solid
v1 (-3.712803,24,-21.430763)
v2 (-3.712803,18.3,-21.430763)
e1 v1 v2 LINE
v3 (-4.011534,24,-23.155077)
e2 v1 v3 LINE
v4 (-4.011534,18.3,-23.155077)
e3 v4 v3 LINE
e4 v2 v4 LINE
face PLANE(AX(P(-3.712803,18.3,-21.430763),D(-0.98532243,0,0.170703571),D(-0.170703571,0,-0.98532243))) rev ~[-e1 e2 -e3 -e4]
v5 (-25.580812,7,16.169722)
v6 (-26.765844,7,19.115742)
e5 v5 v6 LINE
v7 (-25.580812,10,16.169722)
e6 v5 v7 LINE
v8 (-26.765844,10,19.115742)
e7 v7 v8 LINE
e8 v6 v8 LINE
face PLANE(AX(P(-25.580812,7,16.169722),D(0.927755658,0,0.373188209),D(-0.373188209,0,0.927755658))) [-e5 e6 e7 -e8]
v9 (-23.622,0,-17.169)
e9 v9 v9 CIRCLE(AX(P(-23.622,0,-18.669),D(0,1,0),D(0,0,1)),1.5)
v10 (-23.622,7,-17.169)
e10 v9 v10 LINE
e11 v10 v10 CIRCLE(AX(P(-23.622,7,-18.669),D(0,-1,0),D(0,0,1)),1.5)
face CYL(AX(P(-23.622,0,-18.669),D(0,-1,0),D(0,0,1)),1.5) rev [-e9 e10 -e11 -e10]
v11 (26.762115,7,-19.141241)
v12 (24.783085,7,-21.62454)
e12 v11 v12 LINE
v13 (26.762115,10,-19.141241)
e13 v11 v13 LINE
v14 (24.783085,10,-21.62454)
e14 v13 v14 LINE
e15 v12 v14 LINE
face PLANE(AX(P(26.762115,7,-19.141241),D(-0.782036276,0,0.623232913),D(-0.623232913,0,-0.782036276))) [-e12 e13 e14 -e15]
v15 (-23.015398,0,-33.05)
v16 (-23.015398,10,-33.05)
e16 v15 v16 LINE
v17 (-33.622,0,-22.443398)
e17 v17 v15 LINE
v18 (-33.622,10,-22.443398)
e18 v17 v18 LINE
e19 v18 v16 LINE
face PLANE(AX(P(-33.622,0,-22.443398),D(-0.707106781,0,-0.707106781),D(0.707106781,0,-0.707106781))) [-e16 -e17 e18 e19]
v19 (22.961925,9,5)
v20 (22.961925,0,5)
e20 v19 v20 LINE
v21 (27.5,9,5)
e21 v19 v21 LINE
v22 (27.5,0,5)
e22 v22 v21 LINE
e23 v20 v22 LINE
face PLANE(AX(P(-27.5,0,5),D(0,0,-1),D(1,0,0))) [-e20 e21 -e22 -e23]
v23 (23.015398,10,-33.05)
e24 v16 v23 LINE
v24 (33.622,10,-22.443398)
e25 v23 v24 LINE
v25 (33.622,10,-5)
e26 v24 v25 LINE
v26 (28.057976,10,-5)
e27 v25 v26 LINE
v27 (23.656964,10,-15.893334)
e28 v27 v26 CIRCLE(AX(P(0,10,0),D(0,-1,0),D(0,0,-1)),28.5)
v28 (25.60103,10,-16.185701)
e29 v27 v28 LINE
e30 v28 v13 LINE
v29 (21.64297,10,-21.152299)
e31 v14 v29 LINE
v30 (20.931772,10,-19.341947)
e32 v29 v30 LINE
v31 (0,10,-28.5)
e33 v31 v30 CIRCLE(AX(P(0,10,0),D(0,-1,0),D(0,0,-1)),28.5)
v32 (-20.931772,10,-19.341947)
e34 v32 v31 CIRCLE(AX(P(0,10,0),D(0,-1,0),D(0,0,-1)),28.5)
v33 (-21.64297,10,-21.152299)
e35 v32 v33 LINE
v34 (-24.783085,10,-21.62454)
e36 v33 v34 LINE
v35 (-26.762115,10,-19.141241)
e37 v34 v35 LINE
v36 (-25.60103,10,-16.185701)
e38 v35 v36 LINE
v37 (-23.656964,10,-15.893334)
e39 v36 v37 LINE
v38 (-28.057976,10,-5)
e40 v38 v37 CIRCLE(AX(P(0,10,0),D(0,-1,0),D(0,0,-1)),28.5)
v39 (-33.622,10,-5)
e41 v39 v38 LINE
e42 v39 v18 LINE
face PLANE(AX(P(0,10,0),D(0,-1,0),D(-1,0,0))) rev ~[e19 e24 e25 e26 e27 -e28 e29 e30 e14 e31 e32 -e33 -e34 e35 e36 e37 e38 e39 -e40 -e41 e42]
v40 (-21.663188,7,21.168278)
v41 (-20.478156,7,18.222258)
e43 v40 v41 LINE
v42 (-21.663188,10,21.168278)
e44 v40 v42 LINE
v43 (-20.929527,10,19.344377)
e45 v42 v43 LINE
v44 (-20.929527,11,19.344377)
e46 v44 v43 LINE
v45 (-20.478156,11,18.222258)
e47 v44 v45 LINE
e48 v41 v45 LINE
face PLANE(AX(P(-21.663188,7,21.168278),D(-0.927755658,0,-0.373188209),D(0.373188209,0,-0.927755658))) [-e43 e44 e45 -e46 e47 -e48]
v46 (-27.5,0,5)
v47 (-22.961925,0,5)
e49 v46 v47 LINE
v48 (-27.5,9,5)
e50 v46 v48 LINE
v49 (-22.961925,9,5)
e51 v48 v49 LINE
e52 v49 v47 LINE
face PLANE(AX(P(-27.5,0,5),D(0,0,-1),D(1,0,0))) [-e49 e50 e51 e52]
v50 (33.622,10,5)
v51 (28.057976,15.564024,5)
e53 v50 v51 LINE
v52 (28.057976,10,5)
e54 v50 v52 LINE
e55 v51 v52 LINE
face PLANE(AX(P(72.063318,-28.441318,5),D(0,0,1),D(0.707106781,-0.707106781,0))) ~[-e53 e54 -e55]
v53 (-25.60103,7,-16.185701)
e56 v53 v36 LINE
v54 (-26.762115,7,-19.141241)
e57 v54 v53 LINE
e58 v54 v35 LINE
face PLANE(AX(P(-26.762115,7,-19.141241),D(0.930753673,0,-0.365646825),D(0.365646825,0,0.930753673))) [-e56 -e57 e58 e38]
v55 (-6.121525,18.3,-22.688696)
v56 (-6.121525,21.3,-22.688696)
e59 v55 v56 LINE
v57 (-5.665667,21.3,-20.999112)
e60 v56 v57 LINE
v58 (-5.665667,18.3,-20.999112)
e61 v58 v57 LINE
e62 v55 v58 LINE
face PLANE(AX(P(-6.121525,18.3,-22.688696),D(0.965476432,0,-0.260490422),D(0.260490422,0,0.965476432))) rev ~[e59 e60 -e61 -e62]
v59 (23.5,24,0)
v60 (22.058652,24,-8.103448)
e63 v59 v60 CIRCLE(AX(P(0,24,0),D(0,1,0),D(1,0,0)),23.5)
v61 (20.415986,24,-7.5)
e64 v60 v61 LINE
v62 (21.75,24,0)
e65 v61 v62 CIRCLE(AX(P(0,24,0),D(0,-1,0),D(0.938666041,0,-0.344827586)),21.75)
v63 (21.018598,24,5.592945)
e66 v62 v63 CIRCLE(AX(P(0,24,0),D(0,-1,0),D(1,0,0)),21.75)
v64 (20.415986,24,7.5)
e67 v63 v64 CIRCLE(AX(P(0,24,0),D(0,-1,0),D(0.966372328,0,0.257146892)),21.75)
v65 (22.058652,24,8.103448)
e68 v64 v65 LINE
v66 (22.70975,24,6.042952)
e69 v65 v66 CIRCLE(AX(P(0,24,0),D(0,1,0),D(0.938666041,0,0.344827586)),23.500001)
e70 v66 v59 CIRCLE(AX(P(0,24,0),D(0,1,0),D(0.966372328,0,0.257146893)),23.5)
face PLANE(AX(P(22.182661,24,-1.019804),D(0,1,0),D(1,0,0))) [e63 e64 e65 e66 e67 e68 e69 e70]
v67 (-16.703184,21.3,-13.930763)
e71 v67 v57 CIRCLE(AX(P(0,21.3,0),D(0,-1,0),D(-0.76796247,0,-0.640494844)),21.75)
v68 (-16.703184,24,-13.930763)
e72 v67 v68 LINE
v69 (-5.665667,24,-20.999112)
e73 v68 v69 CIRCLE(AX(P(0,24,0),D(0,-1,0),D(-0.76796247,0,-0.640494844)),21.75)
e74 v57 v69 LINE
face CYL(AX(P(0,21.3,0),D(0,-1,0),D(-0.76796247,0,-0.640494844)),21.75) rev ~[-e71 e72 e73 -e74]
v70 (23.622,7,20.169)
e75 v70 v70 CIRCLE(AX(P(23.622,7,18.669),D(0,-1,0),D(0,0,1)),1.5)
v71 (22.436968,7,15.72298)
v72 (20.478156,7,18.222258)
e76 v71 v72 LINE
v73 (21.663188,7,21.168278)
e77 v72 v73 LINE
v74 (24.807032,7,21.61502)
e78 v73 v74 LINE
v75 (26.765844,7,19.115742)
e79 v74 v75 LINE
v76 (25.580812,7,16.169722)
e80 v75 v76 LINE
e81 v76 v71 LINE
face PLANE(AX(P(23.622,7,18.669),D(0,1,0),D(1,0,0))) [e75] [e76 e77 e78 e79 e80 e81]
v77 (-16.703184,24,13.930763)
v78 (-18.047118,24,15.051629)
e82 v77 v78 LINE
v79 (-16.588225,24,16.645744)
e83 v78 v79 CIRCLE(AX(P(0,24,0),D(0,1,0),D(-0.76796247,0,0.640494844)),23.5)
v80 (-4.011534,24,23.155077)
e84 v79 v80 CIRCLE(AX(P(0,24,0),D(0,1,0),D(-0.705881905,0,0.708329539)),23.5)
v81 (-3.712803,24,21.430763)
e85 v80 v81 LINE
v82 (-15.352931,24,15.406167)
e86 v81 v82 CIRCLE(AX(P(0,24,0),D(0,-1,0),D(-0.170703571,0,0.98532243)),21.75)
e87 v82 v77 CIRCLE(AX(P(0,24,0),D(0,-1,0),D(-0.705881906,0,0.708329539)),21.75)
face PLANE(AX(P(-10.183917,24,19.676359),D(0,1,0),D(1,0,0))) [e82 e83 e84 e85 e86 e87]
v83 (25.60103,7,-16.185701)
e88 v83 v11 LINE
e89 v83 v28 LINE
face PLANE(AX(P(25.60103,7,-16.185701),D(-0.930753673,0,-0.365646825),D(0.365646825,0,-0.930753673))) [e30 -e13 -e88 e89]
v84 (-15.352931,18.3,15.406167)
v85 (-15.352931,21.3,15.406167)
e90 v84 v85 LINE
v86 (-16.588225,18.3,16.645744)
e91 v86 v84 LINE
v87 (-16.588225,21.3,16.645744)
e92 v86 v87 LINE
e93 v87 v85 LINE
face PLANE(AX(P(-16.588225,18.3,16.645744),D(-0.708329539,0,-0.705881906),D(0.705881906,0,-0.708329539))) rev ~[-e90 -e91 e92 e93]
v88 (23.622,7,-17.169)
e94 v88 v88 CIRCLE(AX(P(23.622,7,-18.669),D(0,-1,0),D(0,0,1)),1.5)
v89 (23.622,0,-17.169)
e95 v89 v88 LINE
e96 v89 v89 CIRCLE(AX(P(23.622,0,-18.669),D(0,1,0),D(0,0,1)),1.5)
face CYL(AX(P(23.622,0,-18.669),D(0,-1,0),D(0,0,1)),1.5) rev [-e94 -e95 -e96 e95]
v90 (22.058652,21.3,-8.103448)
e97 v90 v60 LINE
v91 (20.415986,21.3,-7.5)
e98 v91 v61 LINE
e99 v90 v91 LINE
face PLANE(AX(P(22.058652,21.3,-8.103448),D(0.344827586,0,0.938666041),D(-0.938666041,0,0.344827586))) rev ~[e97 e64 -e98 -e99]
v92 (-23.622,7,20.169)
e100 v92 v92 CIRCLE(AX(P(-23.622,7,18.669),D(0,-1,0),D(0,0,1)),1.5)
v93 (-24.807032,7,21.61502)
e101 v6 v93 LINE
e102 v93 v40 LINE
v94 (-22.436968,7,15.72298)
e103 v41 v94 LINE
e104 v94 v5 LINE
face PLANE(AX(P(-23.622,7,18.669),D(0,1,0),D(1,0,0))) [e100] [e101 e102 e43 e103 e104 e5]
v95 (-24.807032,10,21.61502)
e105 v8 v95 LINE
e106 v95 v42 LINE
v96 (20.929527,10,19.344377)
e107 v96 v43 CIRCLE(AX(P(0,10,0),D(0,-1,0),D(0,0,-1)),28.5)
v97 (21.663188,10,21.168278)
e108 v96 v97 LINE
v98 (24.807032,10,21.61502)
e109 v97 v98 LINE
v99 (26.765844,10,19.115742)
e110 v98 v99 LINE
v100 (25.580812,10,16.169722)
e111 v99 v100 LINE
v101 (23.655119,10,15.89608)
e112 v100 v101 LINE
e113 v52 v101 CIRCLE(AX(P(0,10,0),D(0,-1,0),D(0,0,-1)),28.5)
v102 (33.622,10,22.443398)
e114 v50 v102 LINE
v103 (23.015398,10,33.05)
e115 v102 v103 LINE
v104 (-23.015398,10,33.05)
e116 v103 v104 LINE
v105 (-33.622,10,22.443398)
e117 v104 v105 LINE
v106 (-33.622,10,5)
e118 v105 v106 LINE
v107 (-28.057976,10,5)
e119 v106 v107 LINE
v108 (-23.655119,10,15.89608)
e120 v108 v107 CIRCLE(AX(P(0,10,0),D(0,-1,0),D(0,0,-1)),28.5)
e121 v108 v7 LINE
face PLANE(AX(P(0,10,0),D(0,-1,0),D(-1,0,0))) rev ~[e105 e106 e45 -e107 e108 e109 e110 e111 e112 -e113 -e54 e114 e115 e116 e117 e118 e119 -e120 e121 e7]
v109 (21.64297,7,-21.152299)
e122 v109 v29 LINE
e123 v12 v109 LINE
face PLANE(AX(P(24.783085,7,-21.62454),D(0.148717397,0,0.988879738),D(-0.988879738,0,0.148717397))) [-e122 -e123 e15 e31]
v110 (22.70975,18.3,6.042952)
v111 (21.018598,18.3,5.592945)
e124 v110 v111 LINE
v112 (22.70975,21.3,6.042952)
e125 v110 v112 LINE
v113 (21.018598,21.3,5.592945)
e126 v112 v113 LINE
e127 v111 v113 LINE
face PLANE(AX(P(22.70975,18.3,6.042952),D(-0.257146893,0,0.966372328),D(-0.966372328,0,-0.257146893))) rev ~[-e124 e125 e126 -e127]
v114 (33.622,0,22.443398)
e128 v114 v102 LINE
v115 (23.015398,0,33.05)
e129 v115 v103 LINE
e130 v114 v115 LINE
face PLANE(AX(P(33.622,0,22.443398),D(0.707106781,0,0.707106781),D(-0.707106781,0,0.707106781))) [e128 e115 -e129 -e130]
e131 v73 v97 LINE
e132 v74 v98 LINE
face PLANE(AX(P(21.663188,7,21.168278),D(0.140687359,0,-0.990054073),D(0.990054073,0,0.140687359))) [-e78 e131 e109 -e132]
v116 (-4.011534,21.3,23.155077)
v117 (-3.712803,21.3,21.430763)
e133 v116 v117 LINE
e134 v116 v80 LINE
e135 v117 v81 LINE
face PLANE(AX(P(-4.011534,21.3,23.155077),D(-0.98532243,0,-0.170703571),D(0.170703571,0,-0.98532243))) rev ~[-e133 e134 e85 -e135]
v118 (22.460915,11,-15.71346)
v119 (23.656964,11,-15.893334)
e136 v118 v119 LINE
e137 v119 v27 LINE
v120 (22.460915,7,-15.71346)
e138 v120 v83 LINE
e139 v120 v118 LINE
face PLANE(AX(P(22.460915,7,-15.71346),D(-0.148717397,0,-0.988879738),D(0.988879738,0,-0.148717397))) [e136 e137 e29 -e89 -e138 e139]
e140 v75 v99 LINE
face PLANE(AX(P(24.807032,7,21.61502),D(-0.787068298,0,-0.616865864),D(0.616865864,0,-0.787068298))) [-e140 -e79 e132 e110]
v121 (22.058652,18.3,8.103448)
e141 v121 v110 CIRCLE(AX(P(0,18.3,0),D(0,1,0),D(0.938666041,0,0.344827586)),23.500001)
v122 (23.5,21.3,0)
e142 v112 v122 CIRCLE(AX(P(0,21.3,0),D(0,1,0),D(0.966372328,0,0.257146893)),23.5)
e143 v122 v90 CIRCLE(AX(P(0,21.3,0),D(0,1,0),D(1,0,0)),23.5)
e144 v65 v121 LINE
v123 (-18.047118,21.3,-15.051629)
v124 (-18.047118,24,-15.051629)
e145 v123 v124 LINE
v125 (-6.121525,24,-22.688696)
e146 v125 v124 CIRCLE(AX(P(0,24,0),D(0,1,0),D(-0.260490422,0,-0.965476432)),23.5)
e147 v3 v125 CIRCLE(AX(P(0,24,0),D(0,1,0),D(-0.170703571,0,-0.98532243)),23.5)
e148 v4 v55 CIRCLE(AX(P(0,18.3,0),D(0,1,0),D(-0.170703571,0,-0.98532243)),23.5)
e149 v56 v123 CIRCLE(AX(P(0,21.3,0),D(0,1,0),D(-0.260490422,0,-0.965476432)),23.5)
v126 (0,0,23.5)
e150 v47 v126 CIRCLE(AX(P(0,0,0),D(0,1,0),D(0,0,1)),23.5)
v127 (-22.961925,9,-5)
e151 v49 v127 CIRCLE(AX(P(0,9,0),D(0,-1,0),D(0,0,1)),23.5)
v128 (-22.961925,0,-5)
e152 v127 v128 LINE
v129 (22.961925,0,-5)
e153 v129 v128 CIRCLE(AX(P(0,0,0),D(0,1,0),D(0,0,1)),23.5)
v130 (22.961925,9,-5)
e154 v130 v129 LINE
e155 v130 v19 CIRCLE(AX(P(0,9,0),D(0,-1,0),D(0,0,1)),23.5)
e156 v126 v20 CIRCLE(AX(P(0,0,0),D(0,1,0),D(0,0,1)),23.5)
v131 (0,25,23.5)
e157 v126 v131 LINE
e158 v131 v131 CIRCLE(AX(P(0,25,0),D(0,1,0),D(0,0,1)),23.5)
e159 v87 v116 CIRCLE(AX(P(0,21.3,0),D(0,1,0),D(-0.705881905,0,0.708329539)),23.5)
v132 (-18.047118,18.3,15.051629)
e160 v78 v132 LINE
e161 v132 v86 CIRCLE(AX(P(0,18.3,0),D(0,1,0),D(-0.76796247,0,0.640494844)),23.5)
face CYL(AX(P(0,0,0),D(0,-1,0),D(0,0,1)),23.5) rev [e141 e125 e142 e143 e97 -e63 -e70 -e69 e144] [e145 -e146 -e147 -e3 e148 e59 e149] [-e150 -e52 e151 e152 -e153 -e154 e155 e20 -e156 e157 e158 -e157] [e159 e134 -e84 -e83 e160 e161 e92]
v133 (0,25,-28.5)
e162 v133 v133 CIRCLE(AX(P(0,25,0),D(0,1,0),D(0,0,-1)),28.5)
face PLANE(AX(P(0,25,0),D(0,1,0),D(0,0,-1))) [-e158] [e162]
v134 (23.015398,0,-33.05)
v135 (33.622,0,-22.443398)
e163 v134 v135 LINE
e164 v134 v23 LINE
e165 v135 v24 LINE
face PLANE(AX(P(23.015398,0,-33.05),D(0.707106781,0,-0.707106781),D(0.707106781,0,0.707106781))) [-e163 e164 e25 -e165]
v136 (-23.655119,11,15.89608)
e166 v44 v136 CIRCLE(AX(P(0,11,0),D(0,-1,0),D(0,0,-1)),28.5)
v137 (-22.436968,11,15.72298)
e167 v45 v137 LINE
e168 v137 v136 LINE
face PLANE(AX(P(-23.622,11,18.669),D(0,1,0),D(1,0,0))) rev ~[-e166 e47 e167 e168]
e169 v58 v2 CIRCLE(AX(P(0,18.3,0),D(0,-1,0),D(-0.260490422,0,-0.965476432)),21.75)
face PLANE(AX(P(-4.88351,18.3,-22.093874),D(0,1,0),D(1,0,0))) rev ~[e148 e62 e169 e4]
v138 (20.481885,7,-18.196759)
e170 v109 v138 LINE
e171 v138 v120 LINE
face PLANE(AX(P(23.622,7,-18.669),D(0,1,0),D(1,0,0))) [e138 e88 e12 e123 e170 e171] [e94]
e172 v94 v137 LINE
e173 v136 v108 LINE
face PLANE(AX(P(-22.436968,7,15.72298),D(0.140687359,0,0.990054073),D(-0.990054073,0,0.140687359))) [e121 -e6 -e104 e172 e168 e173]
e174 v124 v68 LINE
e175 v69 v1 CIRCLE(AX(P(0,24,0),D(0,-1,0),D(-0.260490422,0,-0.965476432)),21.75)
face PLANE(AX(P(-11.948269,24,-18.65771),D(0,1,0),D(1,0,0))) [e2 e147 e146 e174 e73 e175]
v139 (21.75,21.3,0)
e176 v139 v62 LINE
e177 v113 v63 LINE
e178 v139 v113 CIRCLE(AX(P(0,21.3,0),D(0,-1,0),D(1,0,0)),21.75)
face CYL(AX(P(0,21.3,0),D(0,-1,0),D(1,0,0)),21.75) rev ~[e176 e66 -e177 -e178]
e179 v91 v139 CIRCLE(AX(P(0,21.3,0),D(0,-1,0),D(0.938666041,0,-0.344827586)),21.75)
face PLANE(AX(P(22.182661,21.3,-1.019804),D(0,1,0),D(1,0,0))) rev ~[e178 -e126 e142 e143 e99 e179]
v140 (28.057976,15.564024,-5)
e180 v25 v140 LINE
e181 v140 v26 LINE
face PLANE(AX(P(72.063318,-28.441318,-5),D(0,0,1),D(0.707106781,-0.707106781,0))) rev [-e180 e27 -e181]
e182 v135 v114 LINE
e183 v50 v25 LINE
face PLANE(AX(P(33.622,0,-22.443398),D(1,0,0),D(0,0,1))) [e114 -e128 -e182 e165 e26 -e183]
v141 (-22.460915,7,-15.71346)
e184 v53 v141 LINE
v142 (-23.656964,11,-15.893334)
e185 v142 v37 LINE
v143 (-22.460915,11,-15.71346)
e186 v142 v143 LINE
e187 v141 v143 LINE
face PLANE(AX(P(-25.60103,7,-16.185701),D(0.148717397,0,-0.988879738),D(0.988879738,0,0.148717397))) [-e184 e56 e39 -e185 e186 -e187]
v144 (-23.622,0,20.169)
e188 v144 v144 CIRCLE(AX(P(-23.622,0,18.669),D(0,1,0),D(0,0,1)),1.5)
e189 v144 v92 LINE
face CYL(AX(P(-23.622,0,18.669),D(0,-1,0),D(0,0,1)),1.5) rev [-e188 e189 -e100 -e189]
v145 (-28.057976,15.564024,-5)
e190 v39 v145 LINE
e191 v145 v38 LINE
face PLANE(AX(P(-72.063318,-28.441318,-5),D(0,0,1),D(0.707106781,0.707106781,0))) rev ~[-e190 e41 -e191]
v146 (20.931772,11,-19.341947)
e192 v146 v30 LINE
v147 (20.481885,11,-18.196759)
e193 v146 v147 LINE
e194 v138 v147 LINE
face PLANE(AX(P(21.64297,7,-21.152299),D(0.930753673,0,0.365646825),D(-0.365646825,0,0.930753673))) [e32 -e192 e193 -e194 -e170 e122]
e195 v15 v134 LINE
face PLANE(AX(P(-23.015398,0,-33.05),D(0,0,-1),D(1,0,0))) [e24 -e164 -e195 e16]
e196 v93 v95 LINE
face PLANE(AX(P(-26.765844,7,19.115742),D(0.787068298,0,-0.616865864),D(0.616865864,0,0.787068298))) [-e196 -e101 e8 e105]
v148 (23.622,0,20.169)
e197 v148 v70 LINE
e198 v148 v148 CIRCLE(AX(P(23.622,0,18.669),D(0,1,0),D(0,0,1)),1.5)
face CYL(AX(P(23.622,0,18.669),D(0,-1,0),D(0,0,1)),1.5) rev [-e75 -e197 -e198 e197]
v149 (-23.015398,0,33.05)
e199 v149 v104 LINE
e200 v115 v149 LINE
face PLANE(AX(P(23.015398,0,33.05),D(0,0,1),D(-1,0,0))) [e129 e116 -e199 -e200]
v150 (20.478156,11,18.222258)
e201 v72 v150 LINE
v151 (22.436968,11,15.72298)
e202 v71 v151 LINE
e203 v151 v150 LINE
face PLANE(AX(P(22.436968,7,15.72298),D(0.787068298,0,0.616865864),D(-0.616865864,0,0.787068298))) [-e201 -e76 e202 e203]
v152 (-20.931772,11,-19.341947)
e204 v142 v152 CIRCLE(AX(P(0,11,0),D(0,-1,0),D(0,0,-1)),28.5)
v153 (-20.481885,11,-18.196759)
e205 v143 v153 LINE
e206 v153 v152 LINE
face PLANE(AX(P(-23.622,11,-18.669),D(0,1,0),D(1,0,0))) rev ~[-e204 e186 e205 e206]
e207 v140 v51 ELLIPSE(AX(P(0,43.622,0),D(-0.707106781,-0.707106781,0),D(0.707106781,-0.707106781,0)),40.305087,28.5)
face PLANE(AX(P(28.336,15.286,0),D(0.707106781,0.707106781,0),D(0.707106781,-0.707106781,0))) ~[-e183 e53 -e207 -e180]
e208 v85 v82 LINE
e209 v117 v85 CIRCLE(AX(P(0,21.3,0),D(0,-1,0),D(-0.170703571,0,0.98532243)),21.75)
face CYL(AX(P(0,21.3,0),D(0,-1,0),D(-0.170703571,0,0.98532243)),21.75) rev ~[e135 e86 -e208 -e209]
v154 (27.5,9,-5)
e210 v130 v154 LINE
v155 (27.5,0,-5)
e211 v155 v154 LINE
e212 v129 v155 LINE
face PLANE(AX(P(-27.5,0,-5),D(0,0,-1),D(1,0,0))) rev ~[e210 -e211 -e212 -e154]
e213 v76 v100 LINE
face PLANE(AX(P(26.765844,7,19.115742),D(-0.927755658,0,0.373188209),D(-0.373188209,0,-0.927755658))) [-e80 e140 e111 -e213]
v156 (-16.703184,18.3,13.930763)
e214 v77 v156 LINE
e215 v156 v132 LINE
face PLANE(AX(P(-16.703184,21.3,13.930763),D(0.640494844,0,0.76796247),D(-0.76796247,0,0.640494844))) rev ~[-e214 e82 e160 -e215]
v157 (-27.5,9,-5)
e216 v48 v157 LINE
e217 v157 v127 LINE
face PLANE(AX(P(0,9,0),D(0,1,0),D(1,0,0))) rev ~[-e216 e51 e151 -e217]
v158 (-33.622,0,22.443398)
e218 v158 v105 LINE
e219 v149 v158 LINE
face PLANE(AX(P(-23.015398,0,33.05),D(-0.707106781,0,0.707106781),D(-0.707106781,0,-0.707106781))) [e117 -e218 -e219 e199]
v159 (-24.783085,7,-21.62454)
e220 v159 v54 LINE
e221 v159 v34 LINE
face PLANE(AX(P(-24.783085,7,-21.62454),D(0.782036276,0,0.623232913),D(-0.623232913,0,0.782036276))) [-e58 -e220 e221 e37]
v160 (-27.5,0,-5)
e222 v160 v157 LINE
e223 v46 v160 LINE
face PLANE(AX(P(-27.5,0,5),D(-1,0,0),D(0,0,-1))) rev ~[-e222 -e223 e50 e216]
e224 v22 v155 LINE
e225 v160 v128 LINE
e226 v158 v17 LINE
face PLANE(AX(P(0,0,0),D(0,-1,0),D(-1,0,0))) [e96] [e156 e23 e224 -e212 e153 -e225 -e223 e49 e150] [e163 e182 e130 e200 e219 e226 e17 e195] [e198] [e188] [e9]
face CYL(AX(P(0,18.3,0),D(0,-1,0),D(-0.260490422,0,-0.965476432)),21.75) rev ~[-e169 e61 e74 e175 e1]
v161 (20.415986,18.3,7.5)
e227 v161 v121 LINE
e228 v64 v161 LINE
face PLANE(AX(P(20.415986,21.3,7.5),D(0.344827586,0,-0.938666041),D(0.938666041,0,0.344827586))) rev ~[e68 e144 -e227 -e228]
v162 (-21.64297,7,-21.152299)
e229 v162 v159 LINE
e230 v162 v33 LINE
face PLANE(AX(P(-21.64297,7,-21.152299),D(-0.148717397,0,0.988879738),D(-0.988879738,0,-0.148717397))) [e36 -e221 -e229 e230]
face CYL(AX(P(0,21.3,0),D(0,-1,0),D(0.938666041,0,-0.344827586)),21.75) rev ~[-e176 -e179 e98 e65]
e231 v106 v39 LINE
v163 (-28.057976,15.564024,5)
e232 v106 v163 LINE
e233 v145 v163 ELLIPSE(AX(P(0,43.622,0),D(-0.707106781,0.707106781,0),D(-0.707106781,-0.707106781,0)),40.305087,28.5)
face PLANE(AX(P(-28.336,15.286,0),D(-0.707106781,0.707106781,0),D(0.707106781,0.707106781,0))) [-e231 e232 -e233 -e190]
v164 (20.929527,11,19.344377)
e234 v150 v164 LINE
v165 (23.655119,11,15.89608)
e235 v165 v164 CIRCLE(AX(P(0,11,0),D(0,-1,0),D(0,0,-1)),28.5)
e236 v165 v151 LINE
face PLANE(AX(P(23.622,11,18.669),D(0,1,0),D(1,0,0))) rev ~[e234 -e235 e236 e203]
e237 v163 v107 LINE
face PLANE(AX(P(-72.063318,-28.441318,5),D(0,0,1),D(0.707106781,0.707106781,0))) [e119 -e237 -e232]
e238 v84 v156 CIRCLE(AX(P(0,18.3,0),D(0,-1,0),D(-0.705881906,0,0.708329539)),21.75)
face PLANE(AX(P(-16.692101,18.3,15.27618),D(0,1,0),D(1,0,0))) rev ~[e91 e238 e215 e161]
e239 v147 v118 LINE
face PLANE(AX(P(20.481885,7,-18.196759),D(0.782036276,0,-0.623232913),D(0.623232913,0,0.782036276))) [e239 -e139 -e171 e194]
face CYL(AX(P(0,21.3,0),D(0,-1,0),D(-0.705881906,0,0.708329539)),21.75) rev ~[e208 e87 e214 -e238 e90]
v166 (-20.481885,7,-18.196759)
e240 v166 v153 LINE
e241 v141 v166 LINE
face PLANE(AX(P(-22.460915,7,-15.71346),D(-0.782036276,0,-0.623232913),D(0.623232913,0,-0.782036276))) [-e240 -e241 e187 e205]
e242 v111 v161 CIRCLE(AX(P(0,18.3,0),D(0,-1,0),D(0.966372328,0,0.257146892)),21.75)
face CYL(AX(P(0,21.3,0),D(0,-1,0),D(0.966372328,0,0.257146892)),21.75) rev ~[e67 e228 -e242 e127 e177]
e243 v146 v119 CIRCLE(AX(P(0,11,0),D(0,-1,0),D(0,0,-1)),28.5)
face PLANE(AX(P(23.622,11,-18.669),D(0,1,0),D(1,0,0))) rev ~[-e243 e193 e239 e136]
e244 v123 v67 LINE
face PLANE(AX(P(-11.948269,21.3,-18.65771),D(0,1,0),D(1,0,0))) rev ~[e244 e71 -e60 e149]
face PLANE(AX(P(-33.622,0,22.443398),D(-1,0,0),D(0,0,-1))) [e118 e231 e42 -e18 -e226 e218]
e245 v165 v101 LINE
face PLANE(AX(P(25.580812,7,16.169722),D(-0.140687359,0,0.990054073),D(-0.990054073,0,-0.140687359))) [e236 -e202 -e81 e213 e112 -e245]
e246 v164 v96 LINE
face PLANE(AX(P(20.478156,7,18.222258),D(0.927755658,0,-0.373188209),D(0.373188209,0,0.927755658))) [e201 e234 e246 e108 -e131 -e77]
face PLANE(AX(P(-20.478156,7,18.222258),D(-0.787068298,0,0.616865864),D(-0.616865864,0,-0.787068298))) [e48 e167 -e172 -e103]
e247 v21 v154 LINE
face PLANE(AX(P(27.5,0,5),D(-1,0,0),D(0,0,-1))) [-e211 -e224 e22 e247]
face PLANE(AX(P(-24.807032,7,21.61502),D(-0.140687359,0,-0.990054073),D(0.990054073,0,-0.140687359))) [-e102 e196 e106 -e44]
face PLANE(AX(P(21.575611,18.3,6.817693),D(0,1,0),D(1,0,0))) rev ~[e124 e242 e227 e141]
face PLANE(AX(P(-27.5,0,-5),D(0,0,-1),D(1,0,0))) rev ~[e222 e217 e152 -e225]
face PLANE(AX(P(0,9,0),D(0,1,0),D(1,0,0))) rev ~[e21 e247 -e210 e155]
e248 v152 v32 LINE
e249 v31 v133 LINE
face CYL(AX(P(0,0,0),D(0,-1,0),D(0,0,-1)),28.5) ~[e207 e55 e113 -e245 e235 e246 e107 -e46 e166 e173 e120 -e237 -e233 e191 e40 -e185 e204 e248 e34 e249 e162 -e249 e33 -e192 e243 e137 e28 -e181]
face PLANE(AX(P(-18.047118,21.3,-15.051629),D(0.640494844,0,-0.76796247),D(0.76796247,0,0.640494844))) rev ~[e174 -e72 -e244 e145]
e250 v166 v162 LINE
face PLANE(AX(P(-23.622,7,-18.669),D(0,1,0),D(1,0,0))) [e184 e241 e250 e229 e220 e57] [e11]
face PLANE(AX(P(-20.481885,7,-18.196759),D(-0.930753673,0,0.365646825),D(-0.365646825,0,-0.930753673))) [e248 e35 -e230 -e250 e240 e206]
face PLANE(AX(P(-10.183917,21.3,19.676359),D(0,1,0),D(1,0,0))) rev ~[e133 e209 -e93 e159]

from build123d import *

# Parameters (mm, degrees)
SKETCH_1_R               = 23.5
SKETCH_1_R_2             = 1.5
EXTRUDE_1_DEPTH          = 10
SKETCH_2_R               = 28.5
SKETCH_2_R_2             = 23.5
EXTRUDE_2_DEPTH          = 25
SKETCH_5_W               = 55
SKETCH_5_H               = 10
CUT_EXTRUDE_1_DEPTH      = 9
RIB_6_REACH              = 55.364
SKETCH_7_WALL_W          = 123.679532162
SKETCH_7_WALL_H          = 10
CUT_EXTRUDE_2_DEPTH      = 1
CUT_EXTRUDE_2_DEPTH_BACK = 3
CUT_EXTRUDE_2_START      = 10
EXTRUDE_START            = -3.7
EXTRUDE_3_DEPTH          = 2.7
EXTRUDE_START_2          = -6.7
EXTRUDE_5_DEPTH          = 3


with BuildPart() as part:
    # 草图1 → 凸台-拉伸1 (new body)
    with BuildSketch(Plane(origin=(0, 0, 0), x_dir=(1, 0, 0), z_dir=(0, 1, 0))):
        Polygon((-23.015398282, 33.05), (23.015398282, 33.05), (33.622, 22.443398282), (33.622, -22.443398282), (23.015398282, -33.05), (-23.015398282, -33.05), (-33.622, -22.443398282), (-33.622, 22.443398282), align=None)
        with Locations(Location((0, 0, 0), (0, 0, 270))):
            Circle(SKETCH_1_R, mode=Mode.SUBTRACT)
        with Locations(Location((-23.622, 18.669, 0), (0, 0, 270))):
            Circle(SKETCH_1_R_2, mode=Mode.SUBTRACT)
        with Locations(Location((23.622, 18.669, 0), (0, 0, 270))):
            Circle(SKETCH_1_R_2, mode=Mode.SUBTRACT)
        with Locations(Location((23.622, -18.669, 0), (0, 0, 270))):
            Circle(SKETCH_1_R_2, mode=Mode.SUBTRACT)
        with Locations(Location((-23.622, -18.669, 0), (0, 0, 270))):
            Circle(SKETCH_1_R_2, mode=Mode.SUBTRACT)
    extrude(amount=EXTRUDE_1_DEPTH)

    # 草图2 → 凸台-拉伸2 (add)
    with BuildSketch(Plane(origin=(0, 0, 0), x_dir=(1, 0, 0), z_dir=(0, 1, 0))):
        with Locations(Location((0, 0, 0), (0, 0, 90))):
            Circle(SKETCH_2_R)
        with Locations(Location((0, 0, 0), (0, 0, 270))):
            Circle(SKETCH_2_R_2, mode=Mode.SUBTRACT)
    extrude(amount=EXTRUDE_2_DEPTH)

    # 草图5 → 切除-拉伸1 (cut)
    with BuildSketch(Plane(origin=(0, 0, 0), x_dir=(1, 0, 0), z_dir=(0, 1, 0))):
        Rectangle(SKETCH_5_W, SKETCH_5_H)
    extrude(amount=CUT_EXTRUDE_1_DEPTH, mode=Mode.SUBTRACT)

    # 草图7 wall → 筋6 (add, up to next)
    with BuildSketch(Plane(origin=(-28.336, 15.286, 0), x_dir=(0.707106781187, 0.707106781187, 0), z_dir=(-0.707106781187, 0.707106781187, 0)), mode=Mode.PRIVATE) as rib_6_sk1:
        Rectangle(SKETCH_7_WALL_W, SKETCH_7_WALL_H)
    rib_6_tool1 = extrude(rib_6_sk1.sketch, amount=-RIB_6_REACH, mode=Mode.PRIVATE) - part.part
    rib_6 = rib_6_tool1.solids().sort_by_distance((-28.336, 15.286, 0))[0]
    add(rib_6)

    # 镜向1: 筋6 across plane
    add(rib_6.mirror(Plane(origin=(0, 0, 0), x_dir=(0, 0, 1), z_dir=(1, 0, 0))))

    # 草图9 → 切除-拉伸2 (cut, two sides: drawn at the far end of the back side and taken through both)
    with BuildSketch(Plane(origin=(0, 0, 0), x_dir=(1, 0, 0), z_dir=(0, 1, 0)).offset(CUT_EXTRUDE_2_START - CUT_EXTRUDE_2_DEPTH_BACK)):
        Polygon((-24.807031722, -21.615019883), (-21.663187802, -21.168277517), (-20.47815608, -18.222257634), (-22.436968278, -15.722980117), (-25.580812198, -16.169722483), (-26.76584392, -19.115742366), align=None)
        Polygon((26.76584392, -19.115742366), (25.580812198, -16.169722483), (22.436968278, -15.722980117), (20.47815608, -18.222257634), (21.663187802, -21.168277517), (24.807031722, -21.615019883), align=None)
        Polygon((25.601030295, 16.185701302), (26.762114905, 19.141241161), (24.783084611, 21.624539859), (21.642969705, 21.152298698), (20.481885095, 18.196758839), (22.460915389, 15.713460141), align=None)
        Polygon((-25.601030295, 16.185701302), (-22.460915389, 15.713460141), (-20.481885095, 18.196758839), (-21.642969705, 21.152298698), (-24.783084611, 21.624539859), (-26.762114905, 19.141241161), align=None)
    extrude(amount=CUT_EXTRUDE_2_DEPTH + CUT_EXTRUDE_2_DEPTH_BACK, mode=Mode.SUBTRACT)

    # 草图10 → 凸台-拉伸3 (add)
    with BuildSketch(Plane(origin=(0, 25, 0), x_dir=(1, 0, 0), z_dir=(0, 1, 0)).offset(EXTRUDE_START)):
        with BuildLine():
            ThreePointArc((-6.121524921, 22.688696142), (-12.673279961, 19.78984525), (-18.047118042, 15.051628828))
            Line((-18.047118042, 15.051628828), (-16.70318372, 13.930762851))
            ThreePointArc((-16.70318372, 13.930762851), (-11.72952507, 18.31613337), (-5.665666682, 20.999112387))
            Line((-5.665666682, 20.999112387), (-6.121524921, 22.688696142))
        make_face()
        with BuildLine():
            Line((-3.712802663, 21.430762851), (-4.011533912, 23.155077104))
            ThreePointArc((-4.011533912, 23.155077104), (-5.071892953, 22.946152224), (-6.121524921, 22.688696142))
            Line((-6.121524921, 22.688696142), (-5.665666682, 20.999112387))
            ThreePointArc((-5.665666682, 20.999112387), (-4.694198797, 21.237396207), (-3.712802663, 21.430762851))
        make_face()
        with BuildLine():
            Line((21.018598125, -5.592944917), (22.709749699, -6.04295198))
            ThreePointArc((22.709749699, -6.04295198), (23.301599923, -3.047202166), (23.5, 0))
            ThreePointArc((23.5, 0), (23.136857186, 4.115317671), (22.058651954, 8.103448276))
            Line((22.058651954, 8.103448276), (20.415986383, 7.5))
            ThreePointArc((20.415986383, 7.5), (21.413899736, 3.808857845), (21.75, 0))
            ThreePointArc((21.75, 0), (21.566374397, -2.820282856), (21.018598125, -5.592944917))
        make_face()
        with BuildLine():
            Line((20.415986383, -7.5), (22.058651954, -8.103448276))
            ThreePointArc((22.058651954, -8.103448276), (22.407897221, -7.080687969), (22.709749699, -6.04295198))
            Line((22.709749699, -6.04295198), (21.018598125, -5.592944917))
            ThreePointArc((21.018598125, -5.592944917), (20.739224024, -6.553402695), (20.415986383, -7.5))
        make_face()
        with BuildLine():
            ThreePointArc((-16.588224778, -16.645744163), (-10.801868743, -20.870305021), (-4.011533912, -23.155077104))
            Line((-4.011533912, -23.155077104), (-3.712802663, -21.430762851))
            ThreePointArc((-3.712802663, -21.430762851), (-9.997474263, -19.31613337), (-15.352931443, -15.40616747))
            Line((-15.352931443, -15.40616747), (-16.588224778, -16.645744163))
        make_face()
        with BuildLine():
            ThreePointArc((-18.047118042, -15.051628828), (-17.336004268, -15.865464255), (-16.588224778, -16.645744163))
            Line((-16.588224778, -16.645744163), (-15.352931443, -15.40616747))
            ThreePointArc((-15.352931443, -15.40616747), (-16.045025227, -14.683993512), (-16.70318372, -13.930762851))
            Line((-16.70318372, -13.930762851), (-18.047118042, -15.051628828))
        make_face()
    extrude(amount=EXTRUDE_3_DEPTH)

    # 草图10<3> → 凸台-拉伸5 (add)
    with BuildSketch(Plane(origin=(0, 25, 0), x_dir=(1, 0, 0), z_dir=(0, 1, 0)).offset(EXTRUDE_START_2)):
        with BuildLine():
            Line((-3.712802663, 21.430762851), (-4.011533912, 23.155077104))
            ThreePointArc((-4.011533912, 23.155077104), (-5.071892953, 22.946152224), (-6.121524921, 22.688696142))
            Line((-6.121524921, 22.688696142), (-5.665666682, 20.999112387))
            ThreePointArc((-5.665666682, 20.999112387), (-4.694198797, 21.237396207), (-3.712802663, 21.430762851))
        make_face()
        with BuildLine():
            ThreePointArc((-18.047118042, -15.051628828), (-17.336004268, -15.865464255), (-16.588224778, -16.645744163))
            Line((-16.588224778, -16.645744163), (-15.352931443, -15.40616747))
            ThreePointArc((-15.352931443, -15.40616747), (-16.045025227, -14.683993512), (-16.70318372, -13.930762851))
            Line((-16.70318372, -13.930762851), (-18.047118042, -15.051628828))
        make_face()
        with BuildLine():
            Line((20.415986383, -7.5), (22.058651954, -8.103448276))
            ThreePointArc((22.058651954, -8.103448276), (22.407897221, -7.080687969), (22.709749699, -6.04295198))
            Line((22.709749699, -6.04295198), (21.018598125, -5.592944917))
            ThreePointArc((21.018598125, -5.592944917), (20.739224024, -6.553402695), (20.415986383, -7.5))
        make_face()
    extrude(amount=EXTRUDE_5_DEPTH)


solid = part.part
